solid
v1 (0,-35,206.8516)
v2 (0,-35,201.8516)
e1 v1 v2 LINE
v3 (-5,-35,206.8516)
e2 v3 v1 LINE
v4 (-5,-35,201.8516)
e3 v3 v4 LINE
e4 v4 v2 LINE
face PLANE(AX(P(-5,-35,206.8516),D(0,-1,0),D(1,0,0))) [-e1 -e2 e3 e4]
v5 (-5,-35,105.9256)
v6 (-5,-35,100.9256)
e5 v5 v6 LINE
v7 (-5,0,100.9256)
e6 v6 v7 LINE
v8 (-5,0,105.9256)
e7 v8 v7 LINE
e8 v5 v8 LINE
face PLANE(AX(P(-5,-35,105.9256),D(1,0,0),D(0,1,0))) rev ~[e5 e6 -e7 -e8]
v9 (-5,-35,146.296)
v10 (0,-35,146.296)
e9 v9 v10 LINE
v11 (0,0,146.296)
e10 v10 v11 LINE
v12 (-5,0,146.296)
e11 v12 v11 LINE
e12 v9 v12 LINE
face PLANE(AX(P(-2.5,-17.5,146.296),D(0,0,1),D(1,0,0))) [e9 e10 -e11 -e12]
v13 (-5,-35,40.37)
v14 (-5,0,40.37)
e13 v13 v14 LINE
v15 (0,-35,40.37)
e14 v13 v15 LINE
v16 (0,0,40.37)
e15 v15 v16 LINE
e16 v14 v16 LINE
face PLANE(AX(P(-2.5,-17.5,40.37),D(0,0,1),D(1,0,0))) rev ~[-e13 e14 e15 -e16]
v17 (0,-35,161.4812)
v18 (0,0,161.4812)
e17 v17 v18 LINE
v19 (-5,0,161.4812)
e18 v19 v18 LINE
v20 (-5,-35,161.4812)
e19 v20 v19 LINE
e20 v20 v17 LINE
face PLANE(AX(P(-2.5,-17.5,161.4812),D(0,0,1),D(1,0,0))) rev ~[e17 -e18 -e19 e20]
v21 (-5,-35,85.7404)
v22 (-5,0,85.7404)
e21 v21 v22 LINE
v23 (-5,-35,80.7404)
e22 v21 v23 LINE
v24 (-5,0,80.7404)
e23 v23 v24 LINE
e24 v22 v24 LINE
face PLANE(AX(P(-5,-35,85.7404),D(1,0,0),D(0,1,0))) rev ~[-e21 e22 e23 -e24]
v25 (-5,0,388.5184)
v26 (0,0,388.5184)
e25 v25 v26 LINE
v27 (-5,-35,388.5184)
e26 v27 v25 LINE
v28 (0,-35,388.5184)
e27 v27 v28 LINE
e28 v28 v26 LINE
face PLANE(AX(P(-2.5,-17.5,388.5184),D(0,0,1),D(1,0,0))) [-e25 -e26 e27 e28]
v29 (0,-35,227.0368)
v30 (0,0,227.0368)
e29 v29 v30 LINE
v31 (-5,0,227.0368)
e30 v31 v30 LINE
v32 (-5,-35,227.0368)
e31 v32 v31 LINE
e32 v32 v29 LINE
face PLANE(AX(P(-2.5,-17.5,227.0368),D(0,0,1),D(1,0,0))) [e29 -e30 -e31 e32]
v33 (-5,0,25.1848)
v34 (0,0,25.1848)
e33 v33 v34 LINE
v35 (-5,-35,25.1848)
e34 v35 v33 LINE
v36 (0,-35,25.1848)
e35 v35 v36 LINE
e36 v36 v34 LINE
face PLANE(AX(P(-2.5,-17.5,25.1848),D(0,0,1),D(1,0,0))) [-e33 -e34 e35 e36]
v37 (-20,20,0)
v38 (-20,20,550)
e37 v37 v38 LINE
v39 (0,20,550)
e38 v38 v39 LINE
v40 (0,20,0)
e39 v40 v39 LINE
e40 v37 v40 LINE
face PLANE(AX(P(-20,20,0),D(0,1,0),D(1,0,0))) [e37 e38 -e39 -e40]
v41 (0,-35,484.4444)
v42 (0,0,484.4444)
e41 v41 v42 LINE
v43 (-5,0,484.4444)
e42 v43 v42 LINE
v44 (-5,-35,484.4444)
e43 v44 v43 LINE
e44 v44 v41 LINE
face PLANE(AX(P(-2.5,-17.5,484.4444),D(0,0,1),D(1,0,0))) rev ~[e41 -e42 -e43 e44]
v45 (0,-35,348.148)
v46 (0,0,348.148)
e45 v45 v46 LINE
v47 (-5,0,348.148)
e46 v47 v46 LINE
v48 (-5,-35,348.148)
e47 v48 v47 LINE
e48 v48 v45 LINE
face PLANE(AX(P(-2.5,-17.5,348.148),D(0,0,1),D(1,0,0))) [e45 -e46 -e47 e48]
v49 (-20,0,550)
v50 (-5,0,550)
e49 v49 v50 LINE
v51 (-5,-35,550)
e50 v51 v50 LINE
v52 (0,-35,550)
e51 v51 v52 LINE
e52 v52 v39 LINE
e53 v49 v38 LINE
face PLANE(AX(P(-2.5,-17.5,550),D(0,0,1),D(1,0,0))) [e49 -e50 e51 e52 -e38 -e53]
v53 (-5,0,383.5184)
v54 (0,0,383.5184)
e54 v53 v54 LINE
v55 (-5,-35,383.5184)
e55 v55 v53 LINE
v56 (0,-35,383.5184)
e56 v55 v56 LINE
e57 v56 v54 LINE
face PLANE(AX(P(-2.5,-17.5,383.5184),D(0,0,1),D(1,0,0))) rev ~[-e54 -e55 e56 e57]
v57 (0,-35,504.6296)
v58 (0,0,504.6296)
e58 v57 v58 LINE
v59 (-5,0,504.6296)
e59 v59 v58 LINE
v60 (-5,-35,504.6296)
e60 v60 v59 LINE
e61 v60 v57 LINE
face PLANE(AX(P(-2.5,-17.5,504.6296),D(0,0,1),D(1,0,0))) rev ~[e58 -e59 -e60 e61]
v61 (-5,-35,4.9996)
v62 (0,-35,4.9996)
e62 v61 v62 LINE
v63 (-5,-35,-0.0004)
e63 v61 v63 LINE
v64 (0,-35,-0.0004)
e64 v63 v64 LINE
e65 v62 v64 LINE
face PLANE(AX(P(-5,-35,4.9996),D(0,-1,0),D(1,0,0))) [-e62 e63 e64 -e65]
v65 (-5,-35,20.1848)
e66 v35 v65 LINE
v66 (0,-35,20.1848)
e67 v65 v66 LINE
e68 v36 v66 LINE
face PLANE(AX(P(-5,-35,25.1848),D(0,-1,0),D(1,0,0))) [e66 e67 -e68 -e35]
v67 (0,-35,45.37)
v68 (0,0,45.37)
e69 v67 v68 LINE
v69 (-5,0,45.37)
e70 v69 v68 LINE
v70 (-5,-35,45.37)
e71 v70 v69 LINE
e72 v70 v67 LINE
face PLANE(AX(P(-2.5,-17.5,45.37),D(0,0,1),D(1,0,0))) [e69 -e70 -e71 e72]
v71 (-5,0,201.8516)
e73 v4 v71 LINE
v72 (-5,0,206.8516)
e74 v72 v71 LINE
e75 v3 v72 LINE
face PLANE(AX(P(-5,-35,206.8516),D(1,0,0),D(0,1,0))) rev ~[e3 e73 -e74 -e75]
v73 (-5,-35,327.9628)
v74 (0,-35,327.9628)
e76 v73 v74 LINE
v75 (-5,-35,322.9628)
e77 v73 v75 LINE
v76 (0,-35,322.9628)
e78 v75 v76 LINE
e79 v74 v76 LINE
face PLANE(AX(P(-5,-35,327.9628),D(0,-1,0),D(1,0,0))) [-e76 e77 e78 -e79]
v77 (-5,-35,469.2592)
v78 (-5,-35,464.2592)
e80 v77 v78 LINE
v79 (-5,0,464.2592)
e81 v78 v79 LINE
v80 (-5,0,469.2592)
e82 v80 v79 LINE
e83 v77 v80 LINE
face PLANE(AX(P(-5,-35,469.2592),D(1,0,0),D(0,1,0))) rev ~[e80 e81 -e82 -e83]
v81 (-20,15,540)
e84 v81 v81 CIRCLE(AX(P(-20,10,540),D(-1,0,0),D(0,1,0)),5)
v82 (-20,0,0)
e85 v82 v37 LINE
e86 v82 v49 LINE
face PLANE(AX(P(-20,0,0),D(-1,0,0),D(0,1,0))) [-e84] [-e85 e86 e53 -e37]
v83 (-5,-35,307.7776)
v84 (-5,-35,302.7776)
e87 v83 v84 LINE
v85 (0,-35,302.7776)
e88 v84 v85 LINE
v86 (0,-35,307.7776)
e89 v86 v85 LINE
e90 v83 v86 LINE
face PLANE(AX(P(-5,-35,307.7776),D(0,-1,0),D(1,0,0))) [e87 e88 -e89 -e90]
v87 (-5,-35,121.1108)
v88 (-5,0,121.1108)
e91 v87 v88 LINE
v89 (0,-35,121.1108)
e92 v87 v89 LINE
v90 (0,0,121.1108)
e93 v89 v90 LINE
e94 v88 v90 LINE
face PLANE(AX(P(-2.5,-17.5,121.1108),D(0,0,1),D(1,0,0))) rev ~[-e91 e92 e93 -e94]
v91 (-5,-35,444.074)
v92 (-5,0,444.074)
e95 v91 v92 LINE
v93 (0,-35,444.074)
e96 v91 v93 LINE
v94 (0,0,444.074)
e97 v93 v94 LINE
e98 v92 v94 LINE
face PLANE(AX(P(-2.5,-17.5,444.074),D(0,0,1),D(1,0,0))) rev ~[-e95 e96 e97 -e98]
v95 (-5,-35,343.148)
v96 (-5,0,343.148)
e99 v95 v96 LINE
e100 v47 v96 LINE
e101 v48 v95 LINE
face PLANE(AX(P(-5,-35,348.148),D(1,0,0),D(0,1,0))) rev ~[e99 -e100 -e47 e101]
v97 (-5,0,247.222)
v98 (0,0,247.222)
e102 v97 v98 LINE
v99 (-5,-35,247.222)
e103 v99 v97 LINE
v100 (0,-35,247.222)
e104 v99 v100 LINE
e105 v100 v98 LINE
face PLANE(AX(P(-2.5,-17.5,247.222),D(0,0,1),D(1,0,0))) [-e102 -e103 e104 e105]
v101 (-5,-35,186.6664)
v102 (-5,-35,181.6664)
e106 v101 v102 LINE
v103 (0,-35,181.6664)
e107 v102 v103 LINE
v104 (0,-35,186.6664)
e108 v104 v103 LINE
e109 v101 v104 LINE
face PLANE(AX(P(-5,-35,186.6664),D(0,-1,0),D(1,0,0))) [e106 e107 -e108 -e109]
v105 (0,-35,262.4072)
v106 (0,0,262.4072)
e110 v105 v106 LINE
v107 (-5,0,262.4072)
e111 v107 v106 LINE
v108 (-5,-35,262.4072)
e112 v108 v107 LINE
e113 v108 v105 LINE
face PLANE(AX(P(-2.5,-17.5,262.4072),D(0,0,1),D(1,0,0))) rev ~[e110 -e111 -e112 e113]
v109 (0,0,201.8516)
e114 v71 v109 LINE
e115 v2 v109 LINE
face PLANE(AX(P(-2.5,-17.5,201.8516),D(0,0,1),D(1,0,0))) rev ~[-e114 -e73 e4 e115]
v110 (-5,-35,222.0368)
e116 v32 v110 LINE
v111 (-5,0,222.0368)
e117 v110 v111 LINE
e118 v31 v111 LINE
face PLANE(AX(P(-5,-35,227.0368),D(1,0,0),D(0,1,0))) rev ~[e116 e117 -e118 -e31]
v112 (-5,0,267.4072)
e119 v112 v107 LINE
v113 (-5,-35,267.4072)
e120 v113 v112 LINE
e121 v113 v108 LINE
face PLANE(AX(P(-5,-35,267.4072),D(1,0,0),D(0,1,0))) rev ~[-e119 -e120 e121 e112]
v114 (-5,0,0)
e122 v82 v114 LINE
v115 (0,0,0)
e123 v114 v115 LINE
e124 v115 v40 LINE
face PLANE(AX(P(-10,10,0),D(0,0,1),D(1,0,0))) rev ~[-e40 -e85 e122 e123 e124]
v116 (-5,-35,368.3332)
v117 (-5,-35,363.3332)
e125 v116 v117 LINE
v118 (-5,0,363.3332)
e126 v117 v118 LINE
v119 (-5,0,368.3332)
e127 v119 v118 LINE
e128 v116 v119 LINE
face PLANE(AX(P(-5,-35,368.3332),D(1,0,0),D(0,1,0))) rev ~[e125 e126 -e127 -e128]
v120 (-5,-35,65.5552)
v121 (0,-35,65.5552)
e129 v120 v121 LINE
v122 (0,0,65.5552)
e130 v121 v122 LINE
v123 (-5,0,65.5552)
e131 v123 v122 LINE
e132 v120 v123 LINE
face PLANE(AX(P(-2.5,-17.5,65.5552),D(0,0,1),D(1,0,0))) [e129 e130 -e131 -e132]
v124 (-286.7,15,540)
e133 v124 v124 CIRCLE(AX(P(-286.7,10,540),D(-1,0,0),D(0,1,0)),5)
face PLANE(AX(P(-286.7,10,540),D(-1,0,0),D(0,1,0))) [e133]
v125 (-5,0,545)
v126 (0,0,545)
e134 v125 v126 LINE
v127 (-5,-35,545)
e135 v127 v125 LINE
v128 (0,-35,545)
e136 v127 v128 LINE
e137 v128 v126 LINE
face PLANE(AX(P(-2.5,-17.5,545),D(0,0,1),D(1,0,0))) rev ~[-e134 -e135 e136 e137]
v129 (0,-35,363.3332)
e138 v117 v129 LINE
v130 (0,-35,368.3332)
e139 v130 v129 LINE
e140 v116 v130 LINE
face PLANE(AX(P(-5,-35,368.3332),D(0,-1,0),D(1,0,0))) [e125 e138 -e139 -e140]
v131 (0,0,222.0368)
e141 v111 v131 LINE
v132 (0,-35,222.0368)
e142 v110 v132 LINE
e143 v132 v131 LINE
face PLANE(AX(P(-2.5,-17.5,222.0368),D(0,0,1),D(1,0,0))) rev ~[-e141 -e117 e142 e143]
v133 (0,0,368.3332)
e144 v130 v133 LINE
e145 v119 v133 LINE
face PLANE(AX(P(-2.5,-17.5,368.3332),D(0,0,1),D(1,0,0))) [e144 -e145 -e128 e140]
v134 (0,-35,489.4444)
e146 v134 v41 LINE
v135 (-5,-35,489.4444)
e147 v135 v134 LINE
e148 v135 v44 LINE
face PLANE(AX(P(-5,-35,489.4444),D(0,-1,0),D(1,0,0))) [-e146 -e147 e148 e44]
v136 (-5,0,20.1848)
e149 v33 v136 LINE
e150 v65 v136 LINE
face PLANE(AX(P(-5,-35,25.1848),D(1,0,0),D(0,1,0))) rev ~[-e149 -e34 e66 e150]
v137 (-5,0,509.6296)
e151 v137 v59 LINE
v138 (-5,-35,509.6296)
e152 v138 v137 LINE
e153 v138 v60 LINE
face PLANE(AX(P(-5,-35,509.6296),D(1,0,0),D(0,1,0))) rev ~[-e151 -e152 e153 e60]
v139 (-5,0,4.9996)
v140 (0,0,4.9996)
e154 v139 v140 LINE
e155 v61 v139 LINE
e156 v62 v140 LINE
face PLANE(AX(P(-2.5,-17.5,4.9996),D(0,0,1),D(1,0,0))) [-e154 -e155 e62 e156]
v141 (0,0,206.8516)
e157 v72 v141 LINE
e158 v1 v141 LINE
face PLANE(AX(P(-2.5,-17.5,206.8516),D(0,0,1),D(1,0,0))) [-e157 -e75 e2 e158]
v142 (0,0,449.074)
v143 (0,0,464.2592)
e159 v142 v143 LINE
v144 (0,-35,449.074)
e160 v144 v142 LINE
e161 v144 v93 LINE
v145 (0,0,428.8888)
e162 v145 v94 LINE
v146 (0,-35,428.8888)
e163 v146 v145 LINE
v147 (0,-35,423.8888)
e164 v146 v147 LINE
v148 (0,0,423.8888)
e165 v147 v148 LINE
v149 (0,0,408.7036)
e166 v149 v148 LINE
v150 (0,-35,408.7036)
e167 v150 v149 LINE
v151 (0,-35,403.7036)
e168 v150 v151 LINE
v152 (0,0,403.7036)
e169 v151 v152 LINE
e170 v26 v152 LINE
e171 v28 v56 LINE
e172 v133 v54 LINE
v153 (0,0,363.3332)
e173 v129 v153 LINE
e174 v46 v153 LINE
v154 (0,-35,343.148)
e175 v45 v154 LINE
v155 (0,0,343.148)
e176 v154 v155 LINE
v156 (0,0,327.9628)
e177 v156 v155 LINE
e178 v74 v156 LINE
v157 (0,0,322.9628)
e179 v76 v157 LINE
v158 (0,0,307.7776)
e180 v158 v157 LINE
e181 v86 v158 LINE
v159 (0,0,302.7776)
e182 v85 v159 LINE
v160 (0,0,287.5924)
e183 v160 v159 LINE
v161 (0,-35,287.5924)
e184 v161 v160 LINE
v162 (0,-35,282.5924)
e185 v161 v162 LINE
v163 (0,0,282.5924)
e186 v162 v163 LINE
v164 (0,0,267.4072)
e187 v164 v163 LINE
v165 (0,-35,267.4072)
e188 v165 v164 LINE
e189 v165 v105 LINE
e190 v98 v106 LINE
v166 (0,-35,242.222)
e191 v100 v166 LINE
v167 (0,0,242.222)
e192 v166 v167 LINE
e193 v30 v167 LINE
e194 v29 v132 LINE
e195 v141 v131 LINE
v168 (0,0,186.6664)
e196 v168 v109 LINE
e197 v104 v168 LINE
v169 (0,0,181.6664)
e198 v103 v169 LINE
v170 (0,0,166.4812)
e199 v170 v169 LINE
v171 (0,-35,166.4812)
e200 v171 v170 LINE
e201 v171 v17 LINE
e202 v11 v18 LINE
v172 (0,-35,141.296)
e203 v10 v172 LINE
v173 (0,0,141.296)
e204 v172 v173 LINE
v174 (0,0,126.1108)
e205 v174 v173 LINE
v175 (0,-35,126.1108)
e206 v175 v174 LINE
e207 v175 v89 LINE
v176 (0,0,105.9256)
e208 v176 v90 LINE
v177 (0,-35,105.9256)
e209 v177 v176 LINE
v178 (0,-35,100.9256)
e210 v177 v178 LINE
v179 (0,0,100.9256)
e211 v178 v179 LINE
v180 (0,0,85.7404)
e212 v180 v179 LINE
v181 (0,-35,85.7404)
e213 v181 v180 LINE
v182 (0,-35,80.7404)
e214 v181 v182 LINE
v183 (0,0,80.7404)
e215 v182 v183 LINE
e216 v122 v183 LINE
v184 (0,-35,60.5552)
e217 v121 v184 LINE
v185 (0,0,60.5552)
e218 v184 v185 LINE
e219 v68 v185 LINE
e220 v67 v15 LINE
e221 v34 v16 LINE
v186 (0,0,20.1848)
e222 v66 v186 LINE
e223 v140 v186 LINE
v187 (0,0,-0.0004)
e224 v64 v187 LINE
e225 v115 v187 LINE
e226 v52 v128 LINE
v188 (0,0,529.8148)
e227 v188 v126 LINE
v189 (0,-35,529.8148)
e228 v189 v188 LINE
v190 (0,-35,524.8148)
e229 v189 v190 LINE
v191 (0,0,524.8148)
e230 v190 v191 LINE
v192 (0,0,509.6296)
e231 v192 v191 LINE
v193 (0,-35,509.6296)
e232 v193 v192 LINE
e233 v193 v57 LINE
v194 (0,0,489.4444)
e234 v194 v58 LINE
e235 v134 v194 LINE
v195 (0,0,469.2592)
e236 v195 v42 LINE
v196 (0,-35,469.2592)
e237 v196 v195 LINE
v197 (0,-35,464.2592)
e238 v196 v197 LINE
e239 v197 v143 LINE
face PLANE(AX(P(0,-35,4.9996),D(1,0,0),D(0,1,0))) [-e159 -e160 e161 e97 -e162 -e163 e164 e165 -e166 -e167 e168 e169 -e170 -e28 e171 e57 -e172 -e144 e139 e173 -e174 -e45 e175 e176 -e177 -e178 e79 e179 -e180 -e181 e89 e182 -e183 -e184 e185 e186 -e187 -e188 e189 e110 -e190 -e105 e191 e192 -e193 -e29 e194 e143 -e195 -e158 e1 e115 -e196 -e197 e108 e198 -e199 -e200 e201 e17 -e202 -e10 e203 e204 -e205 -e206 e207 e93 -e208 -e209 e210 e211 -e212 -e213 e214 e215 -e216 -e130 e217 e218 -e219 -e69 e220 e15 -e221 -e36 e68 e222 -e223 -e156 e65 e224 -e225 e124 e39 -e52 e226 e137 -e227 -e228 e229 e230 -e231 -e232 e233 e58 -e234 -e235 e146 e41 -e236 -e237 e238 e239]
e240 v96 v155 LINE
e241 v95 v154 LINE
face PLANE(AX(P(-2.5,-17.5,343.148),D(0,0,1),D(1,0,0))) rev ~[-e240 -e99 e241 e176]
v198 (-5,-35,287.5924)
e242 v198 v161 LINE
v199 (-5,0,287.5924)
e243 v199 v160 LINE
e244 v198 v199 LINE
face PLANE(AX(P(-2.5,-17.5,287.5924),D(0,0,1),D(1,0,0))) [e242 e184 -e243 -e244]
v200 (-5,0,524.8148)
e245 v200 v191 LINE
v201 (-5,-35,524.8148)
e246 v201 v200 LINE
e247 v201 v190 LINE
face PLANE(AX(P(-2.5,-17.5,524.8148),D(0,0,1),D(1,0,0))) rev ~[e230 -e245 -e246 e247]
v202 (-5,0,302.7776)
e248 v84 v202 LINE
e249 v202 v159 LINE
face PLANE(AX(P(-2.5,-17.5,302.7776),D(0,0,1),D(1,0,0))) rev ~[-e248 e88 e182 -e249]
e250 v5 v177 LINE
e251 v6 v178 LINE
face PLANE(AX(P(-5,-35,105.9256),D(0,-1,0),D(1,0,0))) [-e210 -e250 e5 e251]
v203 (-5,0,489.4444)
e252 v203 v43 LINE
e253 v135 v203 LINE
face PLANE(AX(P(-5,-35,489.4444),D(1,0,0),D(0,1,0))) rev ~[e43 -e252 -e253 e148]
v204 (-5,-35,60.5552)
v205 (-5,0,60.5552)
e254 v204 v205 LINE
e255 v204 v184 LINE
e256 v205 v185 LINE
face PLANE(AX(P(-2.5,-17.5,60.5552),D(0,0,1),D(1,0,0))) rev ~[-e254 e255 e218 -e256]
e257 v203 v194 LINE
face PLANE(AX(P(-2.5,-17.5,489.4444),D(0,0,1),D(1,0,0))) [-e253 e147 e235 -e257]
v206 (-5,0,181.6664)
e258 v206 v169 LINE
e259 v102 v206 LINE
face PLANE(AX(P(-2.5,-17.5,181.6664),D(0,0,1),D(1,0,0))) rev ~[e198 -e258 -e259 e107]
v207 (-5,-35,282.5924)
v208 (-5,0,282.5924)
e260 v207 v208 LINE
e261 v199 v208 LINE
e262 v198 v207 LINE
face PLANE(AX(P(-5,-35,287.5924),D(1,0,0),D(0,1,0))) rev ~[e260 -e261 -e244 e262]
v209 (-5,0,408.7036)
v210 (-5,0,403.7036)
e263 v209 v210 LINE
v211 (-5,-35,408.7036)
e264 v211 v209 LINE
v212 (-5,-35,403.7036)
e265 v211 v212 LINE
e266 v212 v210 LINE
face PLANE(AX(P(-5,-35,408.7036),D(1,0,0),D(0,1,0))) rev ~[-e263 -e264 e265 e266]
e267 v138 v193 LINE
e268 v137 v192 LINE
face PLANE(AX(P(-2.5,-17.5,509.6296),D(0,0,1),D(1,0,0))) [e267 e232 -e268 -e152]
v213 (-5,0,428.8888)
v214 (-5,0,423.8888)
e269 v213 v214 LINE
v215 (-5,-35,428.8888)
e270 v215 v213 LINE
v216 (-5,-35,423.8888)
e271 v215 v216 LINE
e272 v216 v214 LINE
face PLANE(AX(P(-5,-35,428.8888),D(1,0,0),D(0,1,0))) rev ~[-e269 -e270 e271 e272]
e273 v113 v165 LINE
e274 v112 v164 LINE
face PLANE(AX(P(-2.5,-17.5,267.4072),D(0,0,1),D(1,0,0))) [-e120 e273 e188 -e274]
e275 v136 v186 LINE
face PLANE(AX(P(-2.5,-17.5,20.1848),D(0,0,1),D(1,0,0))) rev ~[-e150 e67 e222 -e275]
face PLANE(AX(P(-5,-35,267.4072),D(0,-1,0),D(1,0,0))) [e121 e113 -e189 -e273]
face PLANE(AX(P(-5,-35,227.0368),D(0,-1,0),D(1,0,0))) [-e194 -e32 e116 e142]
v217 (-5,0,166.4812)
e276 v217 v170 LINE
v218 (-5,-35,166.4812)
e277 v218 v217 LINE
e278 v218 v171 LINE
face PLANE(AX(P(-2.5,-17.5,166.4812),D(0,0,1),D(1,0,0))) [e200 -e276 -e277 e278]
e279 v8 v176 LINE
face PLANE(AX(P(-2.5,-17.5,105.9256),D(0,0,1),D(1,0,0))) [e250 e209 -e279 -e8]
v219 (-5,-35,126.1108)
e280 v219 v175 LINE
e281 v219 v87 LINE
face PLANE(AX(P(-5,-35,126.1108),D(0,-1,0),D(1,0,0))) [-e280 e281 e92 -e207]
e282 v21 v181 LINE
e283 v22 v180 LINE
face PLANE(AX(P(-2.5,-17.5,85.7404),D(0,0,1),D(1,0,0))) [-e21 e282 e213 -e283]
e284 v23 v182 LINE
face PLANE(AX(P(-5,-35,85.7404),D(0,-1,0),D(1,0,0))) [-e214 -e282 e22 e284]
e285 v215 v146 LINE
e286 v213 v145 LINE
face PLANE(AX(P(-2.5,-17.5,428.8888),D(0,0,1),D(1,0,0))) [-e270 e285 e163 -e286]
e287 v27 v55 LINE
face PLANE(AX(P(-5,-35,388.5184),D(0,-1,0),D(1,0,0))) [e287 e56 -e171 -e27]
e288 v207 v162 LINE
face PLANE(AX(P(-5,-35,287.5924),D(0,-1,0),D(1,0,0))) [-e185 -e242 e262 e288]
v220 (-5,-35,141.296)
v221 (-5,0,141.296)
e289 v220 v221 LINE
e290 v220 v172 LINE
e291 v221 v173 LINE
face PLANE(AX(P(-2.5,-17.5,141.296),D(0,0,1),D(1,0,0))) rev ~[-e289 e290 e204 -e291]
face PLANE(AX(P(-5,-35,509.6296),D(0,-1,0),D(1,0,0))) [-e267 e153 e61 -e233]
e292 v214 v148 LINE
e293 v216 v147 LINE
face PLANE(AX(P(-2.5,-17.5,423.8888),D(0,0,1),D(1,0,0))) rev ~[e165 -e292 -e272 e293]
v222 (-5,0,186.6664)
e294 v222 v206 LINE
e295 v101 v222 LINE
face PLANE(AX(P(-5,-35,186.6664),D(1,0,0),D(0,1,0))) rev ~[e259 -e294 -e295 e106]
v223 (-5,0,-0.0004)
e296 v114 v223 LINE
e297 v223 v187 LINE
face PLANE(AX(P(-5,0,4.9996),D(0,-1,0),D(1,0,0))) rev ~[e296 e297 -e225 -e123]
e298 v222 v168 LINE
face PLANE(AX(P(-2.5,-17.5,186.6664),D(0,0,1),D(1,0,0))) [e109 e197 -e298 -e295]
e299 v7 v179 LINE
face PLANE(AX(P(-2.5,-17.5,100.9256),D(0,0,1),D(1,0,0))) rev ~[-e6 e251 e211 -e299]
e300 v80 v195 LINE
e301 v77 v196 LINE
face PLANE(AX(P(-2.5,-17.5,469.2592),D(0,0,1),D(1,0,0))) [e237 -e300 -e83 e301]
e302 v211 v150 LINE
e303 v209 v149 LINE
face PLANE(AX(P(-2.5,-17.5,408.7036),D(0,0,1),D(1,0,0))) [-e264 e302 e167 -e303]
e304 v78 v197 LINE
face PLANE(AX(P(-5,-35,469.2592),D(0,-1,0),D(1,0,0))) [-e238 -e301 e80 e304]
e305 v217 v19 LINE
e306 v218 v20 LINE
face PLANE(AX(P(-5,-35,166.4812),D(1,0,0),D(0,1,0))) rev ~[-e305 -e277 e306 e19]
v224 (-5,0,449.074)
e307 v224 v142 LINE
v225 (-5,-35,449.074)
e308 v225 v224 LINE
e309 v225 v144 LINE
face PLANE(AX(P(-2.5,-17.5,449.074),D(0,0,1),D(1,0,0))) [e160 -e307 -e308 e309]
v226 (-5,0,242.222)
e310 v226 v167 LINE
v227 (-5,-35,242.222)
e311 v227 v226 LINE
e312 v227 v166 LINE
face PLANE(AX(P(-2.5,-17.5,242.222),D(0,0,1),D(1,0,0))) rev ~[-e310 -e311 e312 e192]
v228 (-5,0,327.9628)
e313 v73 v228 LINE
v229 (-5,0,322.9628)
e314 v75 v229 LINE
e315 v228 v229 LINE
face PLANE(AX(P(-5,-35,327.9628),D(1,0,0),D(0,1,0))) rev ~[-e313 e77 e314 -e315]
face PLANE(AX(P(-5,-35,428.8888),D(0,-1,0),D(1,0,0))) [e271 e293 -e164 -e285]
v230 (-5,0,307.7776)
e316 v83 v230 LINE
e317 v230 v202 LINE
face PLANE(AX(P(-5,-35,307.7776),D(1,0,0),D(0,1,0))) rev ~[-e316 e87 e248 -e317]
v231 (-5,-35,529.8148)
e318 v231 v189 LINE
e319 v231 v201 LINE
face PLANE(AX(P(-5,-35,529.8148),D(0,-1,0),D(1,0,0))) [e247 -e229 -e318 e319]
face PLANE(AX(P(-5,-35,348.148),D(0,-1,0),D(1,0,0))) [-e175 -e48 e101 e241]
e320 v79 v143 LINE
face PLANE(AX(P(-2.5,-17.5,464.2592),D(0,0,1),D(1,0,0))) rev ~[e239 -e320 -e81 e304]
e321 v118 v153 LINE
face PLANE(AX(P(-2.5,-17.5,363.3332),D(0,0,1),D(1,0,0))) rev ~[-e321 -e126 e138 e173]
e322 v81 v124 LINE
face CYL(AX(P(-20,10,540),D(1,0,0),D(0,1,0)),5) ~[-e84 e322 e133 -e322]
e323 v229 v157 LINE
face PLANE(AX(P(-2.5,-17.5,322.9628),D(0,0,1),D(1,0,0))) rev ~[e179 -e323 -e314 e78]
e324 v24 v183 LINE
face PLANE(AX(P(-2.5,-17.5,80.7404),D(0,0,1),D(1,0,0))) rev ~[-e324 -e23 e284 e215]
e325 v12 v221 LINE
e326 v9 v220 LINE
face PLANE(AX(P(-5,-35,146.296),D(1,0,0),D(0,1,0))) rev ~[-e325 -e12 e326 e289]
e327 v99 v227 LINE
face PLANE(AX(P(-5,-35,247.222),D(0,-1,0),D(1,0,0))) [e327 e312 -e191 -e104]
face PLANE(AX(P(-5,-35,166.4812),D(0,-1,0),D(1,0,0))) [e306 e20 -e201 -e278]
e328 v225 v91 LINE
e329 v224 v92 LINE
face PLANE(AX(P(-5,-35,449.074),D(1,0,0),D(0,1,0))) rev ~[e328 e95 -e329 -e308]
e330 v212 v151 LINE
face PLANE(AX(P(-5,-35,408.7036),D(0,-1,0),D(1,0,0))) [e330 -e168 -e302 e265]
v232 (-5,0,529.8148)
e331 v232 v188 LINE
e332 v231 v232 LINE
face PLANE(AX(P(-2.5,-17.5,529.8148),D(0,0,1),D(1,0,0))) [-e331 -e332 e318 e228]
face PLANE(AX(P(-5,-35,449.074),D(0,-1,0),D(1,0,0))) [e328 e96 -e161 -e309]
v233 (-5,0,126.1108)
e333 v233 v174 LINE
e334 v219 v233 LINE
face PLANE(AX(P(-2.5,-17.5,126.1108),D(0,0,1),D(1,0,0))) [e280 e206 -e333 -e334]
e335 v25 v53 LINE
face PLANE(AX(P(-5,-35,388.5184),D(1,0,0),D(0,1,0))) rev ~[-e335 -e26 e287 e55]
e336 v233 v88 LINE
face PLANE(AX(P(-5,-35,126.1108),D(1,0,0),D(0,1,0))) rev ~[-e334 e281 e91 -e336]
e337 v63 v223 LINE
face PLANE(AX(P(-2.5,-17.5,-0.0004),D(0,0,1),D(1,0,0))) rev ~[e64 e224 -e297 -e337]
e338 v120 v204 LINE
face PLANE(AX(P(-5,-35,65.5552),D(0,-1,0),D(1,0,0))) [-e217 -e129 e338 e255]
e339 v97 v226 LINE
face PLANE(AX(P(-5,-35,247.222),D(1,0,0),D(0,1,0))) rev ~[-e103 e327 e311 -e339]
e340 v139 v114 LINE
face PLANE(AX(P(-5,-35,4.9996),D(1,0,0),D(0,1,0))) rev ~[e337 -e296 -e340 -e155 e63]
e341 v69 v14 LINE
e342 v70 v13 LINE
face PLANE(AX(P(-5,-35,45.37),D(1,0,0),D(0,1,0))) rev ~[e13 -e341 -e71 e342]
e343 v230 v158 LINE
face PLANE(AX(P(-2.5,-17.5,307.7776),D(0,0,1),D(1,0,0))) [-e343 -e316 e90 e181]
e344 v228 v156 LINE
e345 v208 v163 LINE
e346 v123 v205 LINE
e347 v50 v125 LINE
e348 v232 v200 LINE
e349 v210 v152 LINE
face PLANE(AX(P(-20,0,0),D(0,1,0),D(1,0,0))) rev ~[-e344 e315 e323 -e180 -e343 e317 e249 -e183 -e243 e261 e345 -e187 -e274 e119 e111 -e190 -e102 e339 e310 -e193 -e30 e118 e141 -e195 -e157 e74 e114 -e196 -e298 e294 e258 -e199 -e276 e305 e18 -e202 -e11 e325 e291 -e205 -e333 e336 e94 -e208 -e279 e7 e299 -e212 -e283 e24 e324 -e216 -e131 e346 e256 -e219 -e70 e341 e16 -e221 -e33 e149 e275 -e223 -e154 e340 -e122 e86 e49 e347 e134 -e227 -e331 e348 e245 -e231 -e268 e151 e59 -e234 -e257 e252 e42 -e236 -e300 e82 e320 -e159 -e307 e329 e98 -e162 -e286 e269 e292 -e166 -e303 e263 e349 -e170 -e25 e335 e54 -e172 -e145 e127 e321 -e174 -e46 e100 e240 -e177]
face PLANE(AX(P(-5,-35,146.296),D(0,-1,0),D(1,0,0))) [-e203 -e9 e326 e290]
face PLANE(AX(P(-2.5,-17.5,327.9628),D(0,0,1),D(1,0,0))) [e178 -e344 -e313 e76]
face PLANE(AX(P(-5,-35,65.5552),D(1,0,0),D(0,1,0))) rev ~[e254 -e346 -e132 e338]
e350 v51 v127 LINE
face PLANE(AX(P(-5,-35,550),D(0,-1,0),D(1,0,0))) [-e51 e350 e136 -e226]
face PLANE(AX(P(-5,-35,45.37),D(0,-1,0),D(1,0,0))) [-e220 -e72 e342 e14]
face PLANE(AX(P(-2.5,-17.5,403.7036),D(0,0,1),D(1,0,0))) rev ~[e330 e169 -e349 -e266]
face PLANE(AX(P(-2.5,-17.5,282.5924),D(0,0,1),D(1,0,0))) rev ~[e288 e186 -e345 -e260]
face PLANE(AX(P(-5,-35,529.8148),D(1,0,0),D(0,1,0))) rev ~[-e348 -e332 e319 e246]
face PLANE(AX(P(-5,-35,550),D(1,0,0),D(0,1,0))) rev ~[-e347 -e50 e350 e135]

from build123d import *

# Parameters (mm, degrees)
SKETCH1_W           = 20
SKETCH1_H           = 20
BOSS_EXTRUDE1_DEPTH = 550
SKETCH2_R           = 5
BOSS_EXTRUDE2_DEPTH = 266.7
SKETCH3_W           = 5
SKETCH3_H           = 35
BOSS_EXTRUDE3_DEPTH = 5
LPATTERN1_COUNT     = 28
LPATTERN1_PITCH     = 20.1852


with BuildPart() as part:
    # Sketch1 → Boss-Extrude1 (new body)
    with BuildSketch(Plane.XY):
        with Locations((-10, 10)):
            Rectangle(SKETCH1_W, SKETCH1_H)
    extrude(amount=BOSS_EXTRUDE1_DEPTH)

    # Sketch2 → Boss-Extrude2 (add)
    with BuildSketch(Plane.ZY.offset(20)):
        with Locations(Location((540, 10, 0), (0, 0, 90))):
            Circle(SKETCH2_R)
    extrude(amount=BOSS_EXTRUDE2_DEPTH)

    # Sketch3 → Boss-Extrude3 (add)
    with BuildSketch(Plane.XY.offset(550)):
        with Locations((-2.5, -17.5)):
            Rectangle(SKETCH3_W, SKETCH3_H)
    boss_extrude3 = extrude(amount=-BOSS_EXTRUDE3_DEPTH)

    # LPattern1: Boss-Extrude3 ×28
    with Locations(*[(0, 0, -i * LPATTERN1_PITCH) for i in range(1, LPATTERN1_COUNT)]):
        add(boss_extrude3)


solid = part.part
